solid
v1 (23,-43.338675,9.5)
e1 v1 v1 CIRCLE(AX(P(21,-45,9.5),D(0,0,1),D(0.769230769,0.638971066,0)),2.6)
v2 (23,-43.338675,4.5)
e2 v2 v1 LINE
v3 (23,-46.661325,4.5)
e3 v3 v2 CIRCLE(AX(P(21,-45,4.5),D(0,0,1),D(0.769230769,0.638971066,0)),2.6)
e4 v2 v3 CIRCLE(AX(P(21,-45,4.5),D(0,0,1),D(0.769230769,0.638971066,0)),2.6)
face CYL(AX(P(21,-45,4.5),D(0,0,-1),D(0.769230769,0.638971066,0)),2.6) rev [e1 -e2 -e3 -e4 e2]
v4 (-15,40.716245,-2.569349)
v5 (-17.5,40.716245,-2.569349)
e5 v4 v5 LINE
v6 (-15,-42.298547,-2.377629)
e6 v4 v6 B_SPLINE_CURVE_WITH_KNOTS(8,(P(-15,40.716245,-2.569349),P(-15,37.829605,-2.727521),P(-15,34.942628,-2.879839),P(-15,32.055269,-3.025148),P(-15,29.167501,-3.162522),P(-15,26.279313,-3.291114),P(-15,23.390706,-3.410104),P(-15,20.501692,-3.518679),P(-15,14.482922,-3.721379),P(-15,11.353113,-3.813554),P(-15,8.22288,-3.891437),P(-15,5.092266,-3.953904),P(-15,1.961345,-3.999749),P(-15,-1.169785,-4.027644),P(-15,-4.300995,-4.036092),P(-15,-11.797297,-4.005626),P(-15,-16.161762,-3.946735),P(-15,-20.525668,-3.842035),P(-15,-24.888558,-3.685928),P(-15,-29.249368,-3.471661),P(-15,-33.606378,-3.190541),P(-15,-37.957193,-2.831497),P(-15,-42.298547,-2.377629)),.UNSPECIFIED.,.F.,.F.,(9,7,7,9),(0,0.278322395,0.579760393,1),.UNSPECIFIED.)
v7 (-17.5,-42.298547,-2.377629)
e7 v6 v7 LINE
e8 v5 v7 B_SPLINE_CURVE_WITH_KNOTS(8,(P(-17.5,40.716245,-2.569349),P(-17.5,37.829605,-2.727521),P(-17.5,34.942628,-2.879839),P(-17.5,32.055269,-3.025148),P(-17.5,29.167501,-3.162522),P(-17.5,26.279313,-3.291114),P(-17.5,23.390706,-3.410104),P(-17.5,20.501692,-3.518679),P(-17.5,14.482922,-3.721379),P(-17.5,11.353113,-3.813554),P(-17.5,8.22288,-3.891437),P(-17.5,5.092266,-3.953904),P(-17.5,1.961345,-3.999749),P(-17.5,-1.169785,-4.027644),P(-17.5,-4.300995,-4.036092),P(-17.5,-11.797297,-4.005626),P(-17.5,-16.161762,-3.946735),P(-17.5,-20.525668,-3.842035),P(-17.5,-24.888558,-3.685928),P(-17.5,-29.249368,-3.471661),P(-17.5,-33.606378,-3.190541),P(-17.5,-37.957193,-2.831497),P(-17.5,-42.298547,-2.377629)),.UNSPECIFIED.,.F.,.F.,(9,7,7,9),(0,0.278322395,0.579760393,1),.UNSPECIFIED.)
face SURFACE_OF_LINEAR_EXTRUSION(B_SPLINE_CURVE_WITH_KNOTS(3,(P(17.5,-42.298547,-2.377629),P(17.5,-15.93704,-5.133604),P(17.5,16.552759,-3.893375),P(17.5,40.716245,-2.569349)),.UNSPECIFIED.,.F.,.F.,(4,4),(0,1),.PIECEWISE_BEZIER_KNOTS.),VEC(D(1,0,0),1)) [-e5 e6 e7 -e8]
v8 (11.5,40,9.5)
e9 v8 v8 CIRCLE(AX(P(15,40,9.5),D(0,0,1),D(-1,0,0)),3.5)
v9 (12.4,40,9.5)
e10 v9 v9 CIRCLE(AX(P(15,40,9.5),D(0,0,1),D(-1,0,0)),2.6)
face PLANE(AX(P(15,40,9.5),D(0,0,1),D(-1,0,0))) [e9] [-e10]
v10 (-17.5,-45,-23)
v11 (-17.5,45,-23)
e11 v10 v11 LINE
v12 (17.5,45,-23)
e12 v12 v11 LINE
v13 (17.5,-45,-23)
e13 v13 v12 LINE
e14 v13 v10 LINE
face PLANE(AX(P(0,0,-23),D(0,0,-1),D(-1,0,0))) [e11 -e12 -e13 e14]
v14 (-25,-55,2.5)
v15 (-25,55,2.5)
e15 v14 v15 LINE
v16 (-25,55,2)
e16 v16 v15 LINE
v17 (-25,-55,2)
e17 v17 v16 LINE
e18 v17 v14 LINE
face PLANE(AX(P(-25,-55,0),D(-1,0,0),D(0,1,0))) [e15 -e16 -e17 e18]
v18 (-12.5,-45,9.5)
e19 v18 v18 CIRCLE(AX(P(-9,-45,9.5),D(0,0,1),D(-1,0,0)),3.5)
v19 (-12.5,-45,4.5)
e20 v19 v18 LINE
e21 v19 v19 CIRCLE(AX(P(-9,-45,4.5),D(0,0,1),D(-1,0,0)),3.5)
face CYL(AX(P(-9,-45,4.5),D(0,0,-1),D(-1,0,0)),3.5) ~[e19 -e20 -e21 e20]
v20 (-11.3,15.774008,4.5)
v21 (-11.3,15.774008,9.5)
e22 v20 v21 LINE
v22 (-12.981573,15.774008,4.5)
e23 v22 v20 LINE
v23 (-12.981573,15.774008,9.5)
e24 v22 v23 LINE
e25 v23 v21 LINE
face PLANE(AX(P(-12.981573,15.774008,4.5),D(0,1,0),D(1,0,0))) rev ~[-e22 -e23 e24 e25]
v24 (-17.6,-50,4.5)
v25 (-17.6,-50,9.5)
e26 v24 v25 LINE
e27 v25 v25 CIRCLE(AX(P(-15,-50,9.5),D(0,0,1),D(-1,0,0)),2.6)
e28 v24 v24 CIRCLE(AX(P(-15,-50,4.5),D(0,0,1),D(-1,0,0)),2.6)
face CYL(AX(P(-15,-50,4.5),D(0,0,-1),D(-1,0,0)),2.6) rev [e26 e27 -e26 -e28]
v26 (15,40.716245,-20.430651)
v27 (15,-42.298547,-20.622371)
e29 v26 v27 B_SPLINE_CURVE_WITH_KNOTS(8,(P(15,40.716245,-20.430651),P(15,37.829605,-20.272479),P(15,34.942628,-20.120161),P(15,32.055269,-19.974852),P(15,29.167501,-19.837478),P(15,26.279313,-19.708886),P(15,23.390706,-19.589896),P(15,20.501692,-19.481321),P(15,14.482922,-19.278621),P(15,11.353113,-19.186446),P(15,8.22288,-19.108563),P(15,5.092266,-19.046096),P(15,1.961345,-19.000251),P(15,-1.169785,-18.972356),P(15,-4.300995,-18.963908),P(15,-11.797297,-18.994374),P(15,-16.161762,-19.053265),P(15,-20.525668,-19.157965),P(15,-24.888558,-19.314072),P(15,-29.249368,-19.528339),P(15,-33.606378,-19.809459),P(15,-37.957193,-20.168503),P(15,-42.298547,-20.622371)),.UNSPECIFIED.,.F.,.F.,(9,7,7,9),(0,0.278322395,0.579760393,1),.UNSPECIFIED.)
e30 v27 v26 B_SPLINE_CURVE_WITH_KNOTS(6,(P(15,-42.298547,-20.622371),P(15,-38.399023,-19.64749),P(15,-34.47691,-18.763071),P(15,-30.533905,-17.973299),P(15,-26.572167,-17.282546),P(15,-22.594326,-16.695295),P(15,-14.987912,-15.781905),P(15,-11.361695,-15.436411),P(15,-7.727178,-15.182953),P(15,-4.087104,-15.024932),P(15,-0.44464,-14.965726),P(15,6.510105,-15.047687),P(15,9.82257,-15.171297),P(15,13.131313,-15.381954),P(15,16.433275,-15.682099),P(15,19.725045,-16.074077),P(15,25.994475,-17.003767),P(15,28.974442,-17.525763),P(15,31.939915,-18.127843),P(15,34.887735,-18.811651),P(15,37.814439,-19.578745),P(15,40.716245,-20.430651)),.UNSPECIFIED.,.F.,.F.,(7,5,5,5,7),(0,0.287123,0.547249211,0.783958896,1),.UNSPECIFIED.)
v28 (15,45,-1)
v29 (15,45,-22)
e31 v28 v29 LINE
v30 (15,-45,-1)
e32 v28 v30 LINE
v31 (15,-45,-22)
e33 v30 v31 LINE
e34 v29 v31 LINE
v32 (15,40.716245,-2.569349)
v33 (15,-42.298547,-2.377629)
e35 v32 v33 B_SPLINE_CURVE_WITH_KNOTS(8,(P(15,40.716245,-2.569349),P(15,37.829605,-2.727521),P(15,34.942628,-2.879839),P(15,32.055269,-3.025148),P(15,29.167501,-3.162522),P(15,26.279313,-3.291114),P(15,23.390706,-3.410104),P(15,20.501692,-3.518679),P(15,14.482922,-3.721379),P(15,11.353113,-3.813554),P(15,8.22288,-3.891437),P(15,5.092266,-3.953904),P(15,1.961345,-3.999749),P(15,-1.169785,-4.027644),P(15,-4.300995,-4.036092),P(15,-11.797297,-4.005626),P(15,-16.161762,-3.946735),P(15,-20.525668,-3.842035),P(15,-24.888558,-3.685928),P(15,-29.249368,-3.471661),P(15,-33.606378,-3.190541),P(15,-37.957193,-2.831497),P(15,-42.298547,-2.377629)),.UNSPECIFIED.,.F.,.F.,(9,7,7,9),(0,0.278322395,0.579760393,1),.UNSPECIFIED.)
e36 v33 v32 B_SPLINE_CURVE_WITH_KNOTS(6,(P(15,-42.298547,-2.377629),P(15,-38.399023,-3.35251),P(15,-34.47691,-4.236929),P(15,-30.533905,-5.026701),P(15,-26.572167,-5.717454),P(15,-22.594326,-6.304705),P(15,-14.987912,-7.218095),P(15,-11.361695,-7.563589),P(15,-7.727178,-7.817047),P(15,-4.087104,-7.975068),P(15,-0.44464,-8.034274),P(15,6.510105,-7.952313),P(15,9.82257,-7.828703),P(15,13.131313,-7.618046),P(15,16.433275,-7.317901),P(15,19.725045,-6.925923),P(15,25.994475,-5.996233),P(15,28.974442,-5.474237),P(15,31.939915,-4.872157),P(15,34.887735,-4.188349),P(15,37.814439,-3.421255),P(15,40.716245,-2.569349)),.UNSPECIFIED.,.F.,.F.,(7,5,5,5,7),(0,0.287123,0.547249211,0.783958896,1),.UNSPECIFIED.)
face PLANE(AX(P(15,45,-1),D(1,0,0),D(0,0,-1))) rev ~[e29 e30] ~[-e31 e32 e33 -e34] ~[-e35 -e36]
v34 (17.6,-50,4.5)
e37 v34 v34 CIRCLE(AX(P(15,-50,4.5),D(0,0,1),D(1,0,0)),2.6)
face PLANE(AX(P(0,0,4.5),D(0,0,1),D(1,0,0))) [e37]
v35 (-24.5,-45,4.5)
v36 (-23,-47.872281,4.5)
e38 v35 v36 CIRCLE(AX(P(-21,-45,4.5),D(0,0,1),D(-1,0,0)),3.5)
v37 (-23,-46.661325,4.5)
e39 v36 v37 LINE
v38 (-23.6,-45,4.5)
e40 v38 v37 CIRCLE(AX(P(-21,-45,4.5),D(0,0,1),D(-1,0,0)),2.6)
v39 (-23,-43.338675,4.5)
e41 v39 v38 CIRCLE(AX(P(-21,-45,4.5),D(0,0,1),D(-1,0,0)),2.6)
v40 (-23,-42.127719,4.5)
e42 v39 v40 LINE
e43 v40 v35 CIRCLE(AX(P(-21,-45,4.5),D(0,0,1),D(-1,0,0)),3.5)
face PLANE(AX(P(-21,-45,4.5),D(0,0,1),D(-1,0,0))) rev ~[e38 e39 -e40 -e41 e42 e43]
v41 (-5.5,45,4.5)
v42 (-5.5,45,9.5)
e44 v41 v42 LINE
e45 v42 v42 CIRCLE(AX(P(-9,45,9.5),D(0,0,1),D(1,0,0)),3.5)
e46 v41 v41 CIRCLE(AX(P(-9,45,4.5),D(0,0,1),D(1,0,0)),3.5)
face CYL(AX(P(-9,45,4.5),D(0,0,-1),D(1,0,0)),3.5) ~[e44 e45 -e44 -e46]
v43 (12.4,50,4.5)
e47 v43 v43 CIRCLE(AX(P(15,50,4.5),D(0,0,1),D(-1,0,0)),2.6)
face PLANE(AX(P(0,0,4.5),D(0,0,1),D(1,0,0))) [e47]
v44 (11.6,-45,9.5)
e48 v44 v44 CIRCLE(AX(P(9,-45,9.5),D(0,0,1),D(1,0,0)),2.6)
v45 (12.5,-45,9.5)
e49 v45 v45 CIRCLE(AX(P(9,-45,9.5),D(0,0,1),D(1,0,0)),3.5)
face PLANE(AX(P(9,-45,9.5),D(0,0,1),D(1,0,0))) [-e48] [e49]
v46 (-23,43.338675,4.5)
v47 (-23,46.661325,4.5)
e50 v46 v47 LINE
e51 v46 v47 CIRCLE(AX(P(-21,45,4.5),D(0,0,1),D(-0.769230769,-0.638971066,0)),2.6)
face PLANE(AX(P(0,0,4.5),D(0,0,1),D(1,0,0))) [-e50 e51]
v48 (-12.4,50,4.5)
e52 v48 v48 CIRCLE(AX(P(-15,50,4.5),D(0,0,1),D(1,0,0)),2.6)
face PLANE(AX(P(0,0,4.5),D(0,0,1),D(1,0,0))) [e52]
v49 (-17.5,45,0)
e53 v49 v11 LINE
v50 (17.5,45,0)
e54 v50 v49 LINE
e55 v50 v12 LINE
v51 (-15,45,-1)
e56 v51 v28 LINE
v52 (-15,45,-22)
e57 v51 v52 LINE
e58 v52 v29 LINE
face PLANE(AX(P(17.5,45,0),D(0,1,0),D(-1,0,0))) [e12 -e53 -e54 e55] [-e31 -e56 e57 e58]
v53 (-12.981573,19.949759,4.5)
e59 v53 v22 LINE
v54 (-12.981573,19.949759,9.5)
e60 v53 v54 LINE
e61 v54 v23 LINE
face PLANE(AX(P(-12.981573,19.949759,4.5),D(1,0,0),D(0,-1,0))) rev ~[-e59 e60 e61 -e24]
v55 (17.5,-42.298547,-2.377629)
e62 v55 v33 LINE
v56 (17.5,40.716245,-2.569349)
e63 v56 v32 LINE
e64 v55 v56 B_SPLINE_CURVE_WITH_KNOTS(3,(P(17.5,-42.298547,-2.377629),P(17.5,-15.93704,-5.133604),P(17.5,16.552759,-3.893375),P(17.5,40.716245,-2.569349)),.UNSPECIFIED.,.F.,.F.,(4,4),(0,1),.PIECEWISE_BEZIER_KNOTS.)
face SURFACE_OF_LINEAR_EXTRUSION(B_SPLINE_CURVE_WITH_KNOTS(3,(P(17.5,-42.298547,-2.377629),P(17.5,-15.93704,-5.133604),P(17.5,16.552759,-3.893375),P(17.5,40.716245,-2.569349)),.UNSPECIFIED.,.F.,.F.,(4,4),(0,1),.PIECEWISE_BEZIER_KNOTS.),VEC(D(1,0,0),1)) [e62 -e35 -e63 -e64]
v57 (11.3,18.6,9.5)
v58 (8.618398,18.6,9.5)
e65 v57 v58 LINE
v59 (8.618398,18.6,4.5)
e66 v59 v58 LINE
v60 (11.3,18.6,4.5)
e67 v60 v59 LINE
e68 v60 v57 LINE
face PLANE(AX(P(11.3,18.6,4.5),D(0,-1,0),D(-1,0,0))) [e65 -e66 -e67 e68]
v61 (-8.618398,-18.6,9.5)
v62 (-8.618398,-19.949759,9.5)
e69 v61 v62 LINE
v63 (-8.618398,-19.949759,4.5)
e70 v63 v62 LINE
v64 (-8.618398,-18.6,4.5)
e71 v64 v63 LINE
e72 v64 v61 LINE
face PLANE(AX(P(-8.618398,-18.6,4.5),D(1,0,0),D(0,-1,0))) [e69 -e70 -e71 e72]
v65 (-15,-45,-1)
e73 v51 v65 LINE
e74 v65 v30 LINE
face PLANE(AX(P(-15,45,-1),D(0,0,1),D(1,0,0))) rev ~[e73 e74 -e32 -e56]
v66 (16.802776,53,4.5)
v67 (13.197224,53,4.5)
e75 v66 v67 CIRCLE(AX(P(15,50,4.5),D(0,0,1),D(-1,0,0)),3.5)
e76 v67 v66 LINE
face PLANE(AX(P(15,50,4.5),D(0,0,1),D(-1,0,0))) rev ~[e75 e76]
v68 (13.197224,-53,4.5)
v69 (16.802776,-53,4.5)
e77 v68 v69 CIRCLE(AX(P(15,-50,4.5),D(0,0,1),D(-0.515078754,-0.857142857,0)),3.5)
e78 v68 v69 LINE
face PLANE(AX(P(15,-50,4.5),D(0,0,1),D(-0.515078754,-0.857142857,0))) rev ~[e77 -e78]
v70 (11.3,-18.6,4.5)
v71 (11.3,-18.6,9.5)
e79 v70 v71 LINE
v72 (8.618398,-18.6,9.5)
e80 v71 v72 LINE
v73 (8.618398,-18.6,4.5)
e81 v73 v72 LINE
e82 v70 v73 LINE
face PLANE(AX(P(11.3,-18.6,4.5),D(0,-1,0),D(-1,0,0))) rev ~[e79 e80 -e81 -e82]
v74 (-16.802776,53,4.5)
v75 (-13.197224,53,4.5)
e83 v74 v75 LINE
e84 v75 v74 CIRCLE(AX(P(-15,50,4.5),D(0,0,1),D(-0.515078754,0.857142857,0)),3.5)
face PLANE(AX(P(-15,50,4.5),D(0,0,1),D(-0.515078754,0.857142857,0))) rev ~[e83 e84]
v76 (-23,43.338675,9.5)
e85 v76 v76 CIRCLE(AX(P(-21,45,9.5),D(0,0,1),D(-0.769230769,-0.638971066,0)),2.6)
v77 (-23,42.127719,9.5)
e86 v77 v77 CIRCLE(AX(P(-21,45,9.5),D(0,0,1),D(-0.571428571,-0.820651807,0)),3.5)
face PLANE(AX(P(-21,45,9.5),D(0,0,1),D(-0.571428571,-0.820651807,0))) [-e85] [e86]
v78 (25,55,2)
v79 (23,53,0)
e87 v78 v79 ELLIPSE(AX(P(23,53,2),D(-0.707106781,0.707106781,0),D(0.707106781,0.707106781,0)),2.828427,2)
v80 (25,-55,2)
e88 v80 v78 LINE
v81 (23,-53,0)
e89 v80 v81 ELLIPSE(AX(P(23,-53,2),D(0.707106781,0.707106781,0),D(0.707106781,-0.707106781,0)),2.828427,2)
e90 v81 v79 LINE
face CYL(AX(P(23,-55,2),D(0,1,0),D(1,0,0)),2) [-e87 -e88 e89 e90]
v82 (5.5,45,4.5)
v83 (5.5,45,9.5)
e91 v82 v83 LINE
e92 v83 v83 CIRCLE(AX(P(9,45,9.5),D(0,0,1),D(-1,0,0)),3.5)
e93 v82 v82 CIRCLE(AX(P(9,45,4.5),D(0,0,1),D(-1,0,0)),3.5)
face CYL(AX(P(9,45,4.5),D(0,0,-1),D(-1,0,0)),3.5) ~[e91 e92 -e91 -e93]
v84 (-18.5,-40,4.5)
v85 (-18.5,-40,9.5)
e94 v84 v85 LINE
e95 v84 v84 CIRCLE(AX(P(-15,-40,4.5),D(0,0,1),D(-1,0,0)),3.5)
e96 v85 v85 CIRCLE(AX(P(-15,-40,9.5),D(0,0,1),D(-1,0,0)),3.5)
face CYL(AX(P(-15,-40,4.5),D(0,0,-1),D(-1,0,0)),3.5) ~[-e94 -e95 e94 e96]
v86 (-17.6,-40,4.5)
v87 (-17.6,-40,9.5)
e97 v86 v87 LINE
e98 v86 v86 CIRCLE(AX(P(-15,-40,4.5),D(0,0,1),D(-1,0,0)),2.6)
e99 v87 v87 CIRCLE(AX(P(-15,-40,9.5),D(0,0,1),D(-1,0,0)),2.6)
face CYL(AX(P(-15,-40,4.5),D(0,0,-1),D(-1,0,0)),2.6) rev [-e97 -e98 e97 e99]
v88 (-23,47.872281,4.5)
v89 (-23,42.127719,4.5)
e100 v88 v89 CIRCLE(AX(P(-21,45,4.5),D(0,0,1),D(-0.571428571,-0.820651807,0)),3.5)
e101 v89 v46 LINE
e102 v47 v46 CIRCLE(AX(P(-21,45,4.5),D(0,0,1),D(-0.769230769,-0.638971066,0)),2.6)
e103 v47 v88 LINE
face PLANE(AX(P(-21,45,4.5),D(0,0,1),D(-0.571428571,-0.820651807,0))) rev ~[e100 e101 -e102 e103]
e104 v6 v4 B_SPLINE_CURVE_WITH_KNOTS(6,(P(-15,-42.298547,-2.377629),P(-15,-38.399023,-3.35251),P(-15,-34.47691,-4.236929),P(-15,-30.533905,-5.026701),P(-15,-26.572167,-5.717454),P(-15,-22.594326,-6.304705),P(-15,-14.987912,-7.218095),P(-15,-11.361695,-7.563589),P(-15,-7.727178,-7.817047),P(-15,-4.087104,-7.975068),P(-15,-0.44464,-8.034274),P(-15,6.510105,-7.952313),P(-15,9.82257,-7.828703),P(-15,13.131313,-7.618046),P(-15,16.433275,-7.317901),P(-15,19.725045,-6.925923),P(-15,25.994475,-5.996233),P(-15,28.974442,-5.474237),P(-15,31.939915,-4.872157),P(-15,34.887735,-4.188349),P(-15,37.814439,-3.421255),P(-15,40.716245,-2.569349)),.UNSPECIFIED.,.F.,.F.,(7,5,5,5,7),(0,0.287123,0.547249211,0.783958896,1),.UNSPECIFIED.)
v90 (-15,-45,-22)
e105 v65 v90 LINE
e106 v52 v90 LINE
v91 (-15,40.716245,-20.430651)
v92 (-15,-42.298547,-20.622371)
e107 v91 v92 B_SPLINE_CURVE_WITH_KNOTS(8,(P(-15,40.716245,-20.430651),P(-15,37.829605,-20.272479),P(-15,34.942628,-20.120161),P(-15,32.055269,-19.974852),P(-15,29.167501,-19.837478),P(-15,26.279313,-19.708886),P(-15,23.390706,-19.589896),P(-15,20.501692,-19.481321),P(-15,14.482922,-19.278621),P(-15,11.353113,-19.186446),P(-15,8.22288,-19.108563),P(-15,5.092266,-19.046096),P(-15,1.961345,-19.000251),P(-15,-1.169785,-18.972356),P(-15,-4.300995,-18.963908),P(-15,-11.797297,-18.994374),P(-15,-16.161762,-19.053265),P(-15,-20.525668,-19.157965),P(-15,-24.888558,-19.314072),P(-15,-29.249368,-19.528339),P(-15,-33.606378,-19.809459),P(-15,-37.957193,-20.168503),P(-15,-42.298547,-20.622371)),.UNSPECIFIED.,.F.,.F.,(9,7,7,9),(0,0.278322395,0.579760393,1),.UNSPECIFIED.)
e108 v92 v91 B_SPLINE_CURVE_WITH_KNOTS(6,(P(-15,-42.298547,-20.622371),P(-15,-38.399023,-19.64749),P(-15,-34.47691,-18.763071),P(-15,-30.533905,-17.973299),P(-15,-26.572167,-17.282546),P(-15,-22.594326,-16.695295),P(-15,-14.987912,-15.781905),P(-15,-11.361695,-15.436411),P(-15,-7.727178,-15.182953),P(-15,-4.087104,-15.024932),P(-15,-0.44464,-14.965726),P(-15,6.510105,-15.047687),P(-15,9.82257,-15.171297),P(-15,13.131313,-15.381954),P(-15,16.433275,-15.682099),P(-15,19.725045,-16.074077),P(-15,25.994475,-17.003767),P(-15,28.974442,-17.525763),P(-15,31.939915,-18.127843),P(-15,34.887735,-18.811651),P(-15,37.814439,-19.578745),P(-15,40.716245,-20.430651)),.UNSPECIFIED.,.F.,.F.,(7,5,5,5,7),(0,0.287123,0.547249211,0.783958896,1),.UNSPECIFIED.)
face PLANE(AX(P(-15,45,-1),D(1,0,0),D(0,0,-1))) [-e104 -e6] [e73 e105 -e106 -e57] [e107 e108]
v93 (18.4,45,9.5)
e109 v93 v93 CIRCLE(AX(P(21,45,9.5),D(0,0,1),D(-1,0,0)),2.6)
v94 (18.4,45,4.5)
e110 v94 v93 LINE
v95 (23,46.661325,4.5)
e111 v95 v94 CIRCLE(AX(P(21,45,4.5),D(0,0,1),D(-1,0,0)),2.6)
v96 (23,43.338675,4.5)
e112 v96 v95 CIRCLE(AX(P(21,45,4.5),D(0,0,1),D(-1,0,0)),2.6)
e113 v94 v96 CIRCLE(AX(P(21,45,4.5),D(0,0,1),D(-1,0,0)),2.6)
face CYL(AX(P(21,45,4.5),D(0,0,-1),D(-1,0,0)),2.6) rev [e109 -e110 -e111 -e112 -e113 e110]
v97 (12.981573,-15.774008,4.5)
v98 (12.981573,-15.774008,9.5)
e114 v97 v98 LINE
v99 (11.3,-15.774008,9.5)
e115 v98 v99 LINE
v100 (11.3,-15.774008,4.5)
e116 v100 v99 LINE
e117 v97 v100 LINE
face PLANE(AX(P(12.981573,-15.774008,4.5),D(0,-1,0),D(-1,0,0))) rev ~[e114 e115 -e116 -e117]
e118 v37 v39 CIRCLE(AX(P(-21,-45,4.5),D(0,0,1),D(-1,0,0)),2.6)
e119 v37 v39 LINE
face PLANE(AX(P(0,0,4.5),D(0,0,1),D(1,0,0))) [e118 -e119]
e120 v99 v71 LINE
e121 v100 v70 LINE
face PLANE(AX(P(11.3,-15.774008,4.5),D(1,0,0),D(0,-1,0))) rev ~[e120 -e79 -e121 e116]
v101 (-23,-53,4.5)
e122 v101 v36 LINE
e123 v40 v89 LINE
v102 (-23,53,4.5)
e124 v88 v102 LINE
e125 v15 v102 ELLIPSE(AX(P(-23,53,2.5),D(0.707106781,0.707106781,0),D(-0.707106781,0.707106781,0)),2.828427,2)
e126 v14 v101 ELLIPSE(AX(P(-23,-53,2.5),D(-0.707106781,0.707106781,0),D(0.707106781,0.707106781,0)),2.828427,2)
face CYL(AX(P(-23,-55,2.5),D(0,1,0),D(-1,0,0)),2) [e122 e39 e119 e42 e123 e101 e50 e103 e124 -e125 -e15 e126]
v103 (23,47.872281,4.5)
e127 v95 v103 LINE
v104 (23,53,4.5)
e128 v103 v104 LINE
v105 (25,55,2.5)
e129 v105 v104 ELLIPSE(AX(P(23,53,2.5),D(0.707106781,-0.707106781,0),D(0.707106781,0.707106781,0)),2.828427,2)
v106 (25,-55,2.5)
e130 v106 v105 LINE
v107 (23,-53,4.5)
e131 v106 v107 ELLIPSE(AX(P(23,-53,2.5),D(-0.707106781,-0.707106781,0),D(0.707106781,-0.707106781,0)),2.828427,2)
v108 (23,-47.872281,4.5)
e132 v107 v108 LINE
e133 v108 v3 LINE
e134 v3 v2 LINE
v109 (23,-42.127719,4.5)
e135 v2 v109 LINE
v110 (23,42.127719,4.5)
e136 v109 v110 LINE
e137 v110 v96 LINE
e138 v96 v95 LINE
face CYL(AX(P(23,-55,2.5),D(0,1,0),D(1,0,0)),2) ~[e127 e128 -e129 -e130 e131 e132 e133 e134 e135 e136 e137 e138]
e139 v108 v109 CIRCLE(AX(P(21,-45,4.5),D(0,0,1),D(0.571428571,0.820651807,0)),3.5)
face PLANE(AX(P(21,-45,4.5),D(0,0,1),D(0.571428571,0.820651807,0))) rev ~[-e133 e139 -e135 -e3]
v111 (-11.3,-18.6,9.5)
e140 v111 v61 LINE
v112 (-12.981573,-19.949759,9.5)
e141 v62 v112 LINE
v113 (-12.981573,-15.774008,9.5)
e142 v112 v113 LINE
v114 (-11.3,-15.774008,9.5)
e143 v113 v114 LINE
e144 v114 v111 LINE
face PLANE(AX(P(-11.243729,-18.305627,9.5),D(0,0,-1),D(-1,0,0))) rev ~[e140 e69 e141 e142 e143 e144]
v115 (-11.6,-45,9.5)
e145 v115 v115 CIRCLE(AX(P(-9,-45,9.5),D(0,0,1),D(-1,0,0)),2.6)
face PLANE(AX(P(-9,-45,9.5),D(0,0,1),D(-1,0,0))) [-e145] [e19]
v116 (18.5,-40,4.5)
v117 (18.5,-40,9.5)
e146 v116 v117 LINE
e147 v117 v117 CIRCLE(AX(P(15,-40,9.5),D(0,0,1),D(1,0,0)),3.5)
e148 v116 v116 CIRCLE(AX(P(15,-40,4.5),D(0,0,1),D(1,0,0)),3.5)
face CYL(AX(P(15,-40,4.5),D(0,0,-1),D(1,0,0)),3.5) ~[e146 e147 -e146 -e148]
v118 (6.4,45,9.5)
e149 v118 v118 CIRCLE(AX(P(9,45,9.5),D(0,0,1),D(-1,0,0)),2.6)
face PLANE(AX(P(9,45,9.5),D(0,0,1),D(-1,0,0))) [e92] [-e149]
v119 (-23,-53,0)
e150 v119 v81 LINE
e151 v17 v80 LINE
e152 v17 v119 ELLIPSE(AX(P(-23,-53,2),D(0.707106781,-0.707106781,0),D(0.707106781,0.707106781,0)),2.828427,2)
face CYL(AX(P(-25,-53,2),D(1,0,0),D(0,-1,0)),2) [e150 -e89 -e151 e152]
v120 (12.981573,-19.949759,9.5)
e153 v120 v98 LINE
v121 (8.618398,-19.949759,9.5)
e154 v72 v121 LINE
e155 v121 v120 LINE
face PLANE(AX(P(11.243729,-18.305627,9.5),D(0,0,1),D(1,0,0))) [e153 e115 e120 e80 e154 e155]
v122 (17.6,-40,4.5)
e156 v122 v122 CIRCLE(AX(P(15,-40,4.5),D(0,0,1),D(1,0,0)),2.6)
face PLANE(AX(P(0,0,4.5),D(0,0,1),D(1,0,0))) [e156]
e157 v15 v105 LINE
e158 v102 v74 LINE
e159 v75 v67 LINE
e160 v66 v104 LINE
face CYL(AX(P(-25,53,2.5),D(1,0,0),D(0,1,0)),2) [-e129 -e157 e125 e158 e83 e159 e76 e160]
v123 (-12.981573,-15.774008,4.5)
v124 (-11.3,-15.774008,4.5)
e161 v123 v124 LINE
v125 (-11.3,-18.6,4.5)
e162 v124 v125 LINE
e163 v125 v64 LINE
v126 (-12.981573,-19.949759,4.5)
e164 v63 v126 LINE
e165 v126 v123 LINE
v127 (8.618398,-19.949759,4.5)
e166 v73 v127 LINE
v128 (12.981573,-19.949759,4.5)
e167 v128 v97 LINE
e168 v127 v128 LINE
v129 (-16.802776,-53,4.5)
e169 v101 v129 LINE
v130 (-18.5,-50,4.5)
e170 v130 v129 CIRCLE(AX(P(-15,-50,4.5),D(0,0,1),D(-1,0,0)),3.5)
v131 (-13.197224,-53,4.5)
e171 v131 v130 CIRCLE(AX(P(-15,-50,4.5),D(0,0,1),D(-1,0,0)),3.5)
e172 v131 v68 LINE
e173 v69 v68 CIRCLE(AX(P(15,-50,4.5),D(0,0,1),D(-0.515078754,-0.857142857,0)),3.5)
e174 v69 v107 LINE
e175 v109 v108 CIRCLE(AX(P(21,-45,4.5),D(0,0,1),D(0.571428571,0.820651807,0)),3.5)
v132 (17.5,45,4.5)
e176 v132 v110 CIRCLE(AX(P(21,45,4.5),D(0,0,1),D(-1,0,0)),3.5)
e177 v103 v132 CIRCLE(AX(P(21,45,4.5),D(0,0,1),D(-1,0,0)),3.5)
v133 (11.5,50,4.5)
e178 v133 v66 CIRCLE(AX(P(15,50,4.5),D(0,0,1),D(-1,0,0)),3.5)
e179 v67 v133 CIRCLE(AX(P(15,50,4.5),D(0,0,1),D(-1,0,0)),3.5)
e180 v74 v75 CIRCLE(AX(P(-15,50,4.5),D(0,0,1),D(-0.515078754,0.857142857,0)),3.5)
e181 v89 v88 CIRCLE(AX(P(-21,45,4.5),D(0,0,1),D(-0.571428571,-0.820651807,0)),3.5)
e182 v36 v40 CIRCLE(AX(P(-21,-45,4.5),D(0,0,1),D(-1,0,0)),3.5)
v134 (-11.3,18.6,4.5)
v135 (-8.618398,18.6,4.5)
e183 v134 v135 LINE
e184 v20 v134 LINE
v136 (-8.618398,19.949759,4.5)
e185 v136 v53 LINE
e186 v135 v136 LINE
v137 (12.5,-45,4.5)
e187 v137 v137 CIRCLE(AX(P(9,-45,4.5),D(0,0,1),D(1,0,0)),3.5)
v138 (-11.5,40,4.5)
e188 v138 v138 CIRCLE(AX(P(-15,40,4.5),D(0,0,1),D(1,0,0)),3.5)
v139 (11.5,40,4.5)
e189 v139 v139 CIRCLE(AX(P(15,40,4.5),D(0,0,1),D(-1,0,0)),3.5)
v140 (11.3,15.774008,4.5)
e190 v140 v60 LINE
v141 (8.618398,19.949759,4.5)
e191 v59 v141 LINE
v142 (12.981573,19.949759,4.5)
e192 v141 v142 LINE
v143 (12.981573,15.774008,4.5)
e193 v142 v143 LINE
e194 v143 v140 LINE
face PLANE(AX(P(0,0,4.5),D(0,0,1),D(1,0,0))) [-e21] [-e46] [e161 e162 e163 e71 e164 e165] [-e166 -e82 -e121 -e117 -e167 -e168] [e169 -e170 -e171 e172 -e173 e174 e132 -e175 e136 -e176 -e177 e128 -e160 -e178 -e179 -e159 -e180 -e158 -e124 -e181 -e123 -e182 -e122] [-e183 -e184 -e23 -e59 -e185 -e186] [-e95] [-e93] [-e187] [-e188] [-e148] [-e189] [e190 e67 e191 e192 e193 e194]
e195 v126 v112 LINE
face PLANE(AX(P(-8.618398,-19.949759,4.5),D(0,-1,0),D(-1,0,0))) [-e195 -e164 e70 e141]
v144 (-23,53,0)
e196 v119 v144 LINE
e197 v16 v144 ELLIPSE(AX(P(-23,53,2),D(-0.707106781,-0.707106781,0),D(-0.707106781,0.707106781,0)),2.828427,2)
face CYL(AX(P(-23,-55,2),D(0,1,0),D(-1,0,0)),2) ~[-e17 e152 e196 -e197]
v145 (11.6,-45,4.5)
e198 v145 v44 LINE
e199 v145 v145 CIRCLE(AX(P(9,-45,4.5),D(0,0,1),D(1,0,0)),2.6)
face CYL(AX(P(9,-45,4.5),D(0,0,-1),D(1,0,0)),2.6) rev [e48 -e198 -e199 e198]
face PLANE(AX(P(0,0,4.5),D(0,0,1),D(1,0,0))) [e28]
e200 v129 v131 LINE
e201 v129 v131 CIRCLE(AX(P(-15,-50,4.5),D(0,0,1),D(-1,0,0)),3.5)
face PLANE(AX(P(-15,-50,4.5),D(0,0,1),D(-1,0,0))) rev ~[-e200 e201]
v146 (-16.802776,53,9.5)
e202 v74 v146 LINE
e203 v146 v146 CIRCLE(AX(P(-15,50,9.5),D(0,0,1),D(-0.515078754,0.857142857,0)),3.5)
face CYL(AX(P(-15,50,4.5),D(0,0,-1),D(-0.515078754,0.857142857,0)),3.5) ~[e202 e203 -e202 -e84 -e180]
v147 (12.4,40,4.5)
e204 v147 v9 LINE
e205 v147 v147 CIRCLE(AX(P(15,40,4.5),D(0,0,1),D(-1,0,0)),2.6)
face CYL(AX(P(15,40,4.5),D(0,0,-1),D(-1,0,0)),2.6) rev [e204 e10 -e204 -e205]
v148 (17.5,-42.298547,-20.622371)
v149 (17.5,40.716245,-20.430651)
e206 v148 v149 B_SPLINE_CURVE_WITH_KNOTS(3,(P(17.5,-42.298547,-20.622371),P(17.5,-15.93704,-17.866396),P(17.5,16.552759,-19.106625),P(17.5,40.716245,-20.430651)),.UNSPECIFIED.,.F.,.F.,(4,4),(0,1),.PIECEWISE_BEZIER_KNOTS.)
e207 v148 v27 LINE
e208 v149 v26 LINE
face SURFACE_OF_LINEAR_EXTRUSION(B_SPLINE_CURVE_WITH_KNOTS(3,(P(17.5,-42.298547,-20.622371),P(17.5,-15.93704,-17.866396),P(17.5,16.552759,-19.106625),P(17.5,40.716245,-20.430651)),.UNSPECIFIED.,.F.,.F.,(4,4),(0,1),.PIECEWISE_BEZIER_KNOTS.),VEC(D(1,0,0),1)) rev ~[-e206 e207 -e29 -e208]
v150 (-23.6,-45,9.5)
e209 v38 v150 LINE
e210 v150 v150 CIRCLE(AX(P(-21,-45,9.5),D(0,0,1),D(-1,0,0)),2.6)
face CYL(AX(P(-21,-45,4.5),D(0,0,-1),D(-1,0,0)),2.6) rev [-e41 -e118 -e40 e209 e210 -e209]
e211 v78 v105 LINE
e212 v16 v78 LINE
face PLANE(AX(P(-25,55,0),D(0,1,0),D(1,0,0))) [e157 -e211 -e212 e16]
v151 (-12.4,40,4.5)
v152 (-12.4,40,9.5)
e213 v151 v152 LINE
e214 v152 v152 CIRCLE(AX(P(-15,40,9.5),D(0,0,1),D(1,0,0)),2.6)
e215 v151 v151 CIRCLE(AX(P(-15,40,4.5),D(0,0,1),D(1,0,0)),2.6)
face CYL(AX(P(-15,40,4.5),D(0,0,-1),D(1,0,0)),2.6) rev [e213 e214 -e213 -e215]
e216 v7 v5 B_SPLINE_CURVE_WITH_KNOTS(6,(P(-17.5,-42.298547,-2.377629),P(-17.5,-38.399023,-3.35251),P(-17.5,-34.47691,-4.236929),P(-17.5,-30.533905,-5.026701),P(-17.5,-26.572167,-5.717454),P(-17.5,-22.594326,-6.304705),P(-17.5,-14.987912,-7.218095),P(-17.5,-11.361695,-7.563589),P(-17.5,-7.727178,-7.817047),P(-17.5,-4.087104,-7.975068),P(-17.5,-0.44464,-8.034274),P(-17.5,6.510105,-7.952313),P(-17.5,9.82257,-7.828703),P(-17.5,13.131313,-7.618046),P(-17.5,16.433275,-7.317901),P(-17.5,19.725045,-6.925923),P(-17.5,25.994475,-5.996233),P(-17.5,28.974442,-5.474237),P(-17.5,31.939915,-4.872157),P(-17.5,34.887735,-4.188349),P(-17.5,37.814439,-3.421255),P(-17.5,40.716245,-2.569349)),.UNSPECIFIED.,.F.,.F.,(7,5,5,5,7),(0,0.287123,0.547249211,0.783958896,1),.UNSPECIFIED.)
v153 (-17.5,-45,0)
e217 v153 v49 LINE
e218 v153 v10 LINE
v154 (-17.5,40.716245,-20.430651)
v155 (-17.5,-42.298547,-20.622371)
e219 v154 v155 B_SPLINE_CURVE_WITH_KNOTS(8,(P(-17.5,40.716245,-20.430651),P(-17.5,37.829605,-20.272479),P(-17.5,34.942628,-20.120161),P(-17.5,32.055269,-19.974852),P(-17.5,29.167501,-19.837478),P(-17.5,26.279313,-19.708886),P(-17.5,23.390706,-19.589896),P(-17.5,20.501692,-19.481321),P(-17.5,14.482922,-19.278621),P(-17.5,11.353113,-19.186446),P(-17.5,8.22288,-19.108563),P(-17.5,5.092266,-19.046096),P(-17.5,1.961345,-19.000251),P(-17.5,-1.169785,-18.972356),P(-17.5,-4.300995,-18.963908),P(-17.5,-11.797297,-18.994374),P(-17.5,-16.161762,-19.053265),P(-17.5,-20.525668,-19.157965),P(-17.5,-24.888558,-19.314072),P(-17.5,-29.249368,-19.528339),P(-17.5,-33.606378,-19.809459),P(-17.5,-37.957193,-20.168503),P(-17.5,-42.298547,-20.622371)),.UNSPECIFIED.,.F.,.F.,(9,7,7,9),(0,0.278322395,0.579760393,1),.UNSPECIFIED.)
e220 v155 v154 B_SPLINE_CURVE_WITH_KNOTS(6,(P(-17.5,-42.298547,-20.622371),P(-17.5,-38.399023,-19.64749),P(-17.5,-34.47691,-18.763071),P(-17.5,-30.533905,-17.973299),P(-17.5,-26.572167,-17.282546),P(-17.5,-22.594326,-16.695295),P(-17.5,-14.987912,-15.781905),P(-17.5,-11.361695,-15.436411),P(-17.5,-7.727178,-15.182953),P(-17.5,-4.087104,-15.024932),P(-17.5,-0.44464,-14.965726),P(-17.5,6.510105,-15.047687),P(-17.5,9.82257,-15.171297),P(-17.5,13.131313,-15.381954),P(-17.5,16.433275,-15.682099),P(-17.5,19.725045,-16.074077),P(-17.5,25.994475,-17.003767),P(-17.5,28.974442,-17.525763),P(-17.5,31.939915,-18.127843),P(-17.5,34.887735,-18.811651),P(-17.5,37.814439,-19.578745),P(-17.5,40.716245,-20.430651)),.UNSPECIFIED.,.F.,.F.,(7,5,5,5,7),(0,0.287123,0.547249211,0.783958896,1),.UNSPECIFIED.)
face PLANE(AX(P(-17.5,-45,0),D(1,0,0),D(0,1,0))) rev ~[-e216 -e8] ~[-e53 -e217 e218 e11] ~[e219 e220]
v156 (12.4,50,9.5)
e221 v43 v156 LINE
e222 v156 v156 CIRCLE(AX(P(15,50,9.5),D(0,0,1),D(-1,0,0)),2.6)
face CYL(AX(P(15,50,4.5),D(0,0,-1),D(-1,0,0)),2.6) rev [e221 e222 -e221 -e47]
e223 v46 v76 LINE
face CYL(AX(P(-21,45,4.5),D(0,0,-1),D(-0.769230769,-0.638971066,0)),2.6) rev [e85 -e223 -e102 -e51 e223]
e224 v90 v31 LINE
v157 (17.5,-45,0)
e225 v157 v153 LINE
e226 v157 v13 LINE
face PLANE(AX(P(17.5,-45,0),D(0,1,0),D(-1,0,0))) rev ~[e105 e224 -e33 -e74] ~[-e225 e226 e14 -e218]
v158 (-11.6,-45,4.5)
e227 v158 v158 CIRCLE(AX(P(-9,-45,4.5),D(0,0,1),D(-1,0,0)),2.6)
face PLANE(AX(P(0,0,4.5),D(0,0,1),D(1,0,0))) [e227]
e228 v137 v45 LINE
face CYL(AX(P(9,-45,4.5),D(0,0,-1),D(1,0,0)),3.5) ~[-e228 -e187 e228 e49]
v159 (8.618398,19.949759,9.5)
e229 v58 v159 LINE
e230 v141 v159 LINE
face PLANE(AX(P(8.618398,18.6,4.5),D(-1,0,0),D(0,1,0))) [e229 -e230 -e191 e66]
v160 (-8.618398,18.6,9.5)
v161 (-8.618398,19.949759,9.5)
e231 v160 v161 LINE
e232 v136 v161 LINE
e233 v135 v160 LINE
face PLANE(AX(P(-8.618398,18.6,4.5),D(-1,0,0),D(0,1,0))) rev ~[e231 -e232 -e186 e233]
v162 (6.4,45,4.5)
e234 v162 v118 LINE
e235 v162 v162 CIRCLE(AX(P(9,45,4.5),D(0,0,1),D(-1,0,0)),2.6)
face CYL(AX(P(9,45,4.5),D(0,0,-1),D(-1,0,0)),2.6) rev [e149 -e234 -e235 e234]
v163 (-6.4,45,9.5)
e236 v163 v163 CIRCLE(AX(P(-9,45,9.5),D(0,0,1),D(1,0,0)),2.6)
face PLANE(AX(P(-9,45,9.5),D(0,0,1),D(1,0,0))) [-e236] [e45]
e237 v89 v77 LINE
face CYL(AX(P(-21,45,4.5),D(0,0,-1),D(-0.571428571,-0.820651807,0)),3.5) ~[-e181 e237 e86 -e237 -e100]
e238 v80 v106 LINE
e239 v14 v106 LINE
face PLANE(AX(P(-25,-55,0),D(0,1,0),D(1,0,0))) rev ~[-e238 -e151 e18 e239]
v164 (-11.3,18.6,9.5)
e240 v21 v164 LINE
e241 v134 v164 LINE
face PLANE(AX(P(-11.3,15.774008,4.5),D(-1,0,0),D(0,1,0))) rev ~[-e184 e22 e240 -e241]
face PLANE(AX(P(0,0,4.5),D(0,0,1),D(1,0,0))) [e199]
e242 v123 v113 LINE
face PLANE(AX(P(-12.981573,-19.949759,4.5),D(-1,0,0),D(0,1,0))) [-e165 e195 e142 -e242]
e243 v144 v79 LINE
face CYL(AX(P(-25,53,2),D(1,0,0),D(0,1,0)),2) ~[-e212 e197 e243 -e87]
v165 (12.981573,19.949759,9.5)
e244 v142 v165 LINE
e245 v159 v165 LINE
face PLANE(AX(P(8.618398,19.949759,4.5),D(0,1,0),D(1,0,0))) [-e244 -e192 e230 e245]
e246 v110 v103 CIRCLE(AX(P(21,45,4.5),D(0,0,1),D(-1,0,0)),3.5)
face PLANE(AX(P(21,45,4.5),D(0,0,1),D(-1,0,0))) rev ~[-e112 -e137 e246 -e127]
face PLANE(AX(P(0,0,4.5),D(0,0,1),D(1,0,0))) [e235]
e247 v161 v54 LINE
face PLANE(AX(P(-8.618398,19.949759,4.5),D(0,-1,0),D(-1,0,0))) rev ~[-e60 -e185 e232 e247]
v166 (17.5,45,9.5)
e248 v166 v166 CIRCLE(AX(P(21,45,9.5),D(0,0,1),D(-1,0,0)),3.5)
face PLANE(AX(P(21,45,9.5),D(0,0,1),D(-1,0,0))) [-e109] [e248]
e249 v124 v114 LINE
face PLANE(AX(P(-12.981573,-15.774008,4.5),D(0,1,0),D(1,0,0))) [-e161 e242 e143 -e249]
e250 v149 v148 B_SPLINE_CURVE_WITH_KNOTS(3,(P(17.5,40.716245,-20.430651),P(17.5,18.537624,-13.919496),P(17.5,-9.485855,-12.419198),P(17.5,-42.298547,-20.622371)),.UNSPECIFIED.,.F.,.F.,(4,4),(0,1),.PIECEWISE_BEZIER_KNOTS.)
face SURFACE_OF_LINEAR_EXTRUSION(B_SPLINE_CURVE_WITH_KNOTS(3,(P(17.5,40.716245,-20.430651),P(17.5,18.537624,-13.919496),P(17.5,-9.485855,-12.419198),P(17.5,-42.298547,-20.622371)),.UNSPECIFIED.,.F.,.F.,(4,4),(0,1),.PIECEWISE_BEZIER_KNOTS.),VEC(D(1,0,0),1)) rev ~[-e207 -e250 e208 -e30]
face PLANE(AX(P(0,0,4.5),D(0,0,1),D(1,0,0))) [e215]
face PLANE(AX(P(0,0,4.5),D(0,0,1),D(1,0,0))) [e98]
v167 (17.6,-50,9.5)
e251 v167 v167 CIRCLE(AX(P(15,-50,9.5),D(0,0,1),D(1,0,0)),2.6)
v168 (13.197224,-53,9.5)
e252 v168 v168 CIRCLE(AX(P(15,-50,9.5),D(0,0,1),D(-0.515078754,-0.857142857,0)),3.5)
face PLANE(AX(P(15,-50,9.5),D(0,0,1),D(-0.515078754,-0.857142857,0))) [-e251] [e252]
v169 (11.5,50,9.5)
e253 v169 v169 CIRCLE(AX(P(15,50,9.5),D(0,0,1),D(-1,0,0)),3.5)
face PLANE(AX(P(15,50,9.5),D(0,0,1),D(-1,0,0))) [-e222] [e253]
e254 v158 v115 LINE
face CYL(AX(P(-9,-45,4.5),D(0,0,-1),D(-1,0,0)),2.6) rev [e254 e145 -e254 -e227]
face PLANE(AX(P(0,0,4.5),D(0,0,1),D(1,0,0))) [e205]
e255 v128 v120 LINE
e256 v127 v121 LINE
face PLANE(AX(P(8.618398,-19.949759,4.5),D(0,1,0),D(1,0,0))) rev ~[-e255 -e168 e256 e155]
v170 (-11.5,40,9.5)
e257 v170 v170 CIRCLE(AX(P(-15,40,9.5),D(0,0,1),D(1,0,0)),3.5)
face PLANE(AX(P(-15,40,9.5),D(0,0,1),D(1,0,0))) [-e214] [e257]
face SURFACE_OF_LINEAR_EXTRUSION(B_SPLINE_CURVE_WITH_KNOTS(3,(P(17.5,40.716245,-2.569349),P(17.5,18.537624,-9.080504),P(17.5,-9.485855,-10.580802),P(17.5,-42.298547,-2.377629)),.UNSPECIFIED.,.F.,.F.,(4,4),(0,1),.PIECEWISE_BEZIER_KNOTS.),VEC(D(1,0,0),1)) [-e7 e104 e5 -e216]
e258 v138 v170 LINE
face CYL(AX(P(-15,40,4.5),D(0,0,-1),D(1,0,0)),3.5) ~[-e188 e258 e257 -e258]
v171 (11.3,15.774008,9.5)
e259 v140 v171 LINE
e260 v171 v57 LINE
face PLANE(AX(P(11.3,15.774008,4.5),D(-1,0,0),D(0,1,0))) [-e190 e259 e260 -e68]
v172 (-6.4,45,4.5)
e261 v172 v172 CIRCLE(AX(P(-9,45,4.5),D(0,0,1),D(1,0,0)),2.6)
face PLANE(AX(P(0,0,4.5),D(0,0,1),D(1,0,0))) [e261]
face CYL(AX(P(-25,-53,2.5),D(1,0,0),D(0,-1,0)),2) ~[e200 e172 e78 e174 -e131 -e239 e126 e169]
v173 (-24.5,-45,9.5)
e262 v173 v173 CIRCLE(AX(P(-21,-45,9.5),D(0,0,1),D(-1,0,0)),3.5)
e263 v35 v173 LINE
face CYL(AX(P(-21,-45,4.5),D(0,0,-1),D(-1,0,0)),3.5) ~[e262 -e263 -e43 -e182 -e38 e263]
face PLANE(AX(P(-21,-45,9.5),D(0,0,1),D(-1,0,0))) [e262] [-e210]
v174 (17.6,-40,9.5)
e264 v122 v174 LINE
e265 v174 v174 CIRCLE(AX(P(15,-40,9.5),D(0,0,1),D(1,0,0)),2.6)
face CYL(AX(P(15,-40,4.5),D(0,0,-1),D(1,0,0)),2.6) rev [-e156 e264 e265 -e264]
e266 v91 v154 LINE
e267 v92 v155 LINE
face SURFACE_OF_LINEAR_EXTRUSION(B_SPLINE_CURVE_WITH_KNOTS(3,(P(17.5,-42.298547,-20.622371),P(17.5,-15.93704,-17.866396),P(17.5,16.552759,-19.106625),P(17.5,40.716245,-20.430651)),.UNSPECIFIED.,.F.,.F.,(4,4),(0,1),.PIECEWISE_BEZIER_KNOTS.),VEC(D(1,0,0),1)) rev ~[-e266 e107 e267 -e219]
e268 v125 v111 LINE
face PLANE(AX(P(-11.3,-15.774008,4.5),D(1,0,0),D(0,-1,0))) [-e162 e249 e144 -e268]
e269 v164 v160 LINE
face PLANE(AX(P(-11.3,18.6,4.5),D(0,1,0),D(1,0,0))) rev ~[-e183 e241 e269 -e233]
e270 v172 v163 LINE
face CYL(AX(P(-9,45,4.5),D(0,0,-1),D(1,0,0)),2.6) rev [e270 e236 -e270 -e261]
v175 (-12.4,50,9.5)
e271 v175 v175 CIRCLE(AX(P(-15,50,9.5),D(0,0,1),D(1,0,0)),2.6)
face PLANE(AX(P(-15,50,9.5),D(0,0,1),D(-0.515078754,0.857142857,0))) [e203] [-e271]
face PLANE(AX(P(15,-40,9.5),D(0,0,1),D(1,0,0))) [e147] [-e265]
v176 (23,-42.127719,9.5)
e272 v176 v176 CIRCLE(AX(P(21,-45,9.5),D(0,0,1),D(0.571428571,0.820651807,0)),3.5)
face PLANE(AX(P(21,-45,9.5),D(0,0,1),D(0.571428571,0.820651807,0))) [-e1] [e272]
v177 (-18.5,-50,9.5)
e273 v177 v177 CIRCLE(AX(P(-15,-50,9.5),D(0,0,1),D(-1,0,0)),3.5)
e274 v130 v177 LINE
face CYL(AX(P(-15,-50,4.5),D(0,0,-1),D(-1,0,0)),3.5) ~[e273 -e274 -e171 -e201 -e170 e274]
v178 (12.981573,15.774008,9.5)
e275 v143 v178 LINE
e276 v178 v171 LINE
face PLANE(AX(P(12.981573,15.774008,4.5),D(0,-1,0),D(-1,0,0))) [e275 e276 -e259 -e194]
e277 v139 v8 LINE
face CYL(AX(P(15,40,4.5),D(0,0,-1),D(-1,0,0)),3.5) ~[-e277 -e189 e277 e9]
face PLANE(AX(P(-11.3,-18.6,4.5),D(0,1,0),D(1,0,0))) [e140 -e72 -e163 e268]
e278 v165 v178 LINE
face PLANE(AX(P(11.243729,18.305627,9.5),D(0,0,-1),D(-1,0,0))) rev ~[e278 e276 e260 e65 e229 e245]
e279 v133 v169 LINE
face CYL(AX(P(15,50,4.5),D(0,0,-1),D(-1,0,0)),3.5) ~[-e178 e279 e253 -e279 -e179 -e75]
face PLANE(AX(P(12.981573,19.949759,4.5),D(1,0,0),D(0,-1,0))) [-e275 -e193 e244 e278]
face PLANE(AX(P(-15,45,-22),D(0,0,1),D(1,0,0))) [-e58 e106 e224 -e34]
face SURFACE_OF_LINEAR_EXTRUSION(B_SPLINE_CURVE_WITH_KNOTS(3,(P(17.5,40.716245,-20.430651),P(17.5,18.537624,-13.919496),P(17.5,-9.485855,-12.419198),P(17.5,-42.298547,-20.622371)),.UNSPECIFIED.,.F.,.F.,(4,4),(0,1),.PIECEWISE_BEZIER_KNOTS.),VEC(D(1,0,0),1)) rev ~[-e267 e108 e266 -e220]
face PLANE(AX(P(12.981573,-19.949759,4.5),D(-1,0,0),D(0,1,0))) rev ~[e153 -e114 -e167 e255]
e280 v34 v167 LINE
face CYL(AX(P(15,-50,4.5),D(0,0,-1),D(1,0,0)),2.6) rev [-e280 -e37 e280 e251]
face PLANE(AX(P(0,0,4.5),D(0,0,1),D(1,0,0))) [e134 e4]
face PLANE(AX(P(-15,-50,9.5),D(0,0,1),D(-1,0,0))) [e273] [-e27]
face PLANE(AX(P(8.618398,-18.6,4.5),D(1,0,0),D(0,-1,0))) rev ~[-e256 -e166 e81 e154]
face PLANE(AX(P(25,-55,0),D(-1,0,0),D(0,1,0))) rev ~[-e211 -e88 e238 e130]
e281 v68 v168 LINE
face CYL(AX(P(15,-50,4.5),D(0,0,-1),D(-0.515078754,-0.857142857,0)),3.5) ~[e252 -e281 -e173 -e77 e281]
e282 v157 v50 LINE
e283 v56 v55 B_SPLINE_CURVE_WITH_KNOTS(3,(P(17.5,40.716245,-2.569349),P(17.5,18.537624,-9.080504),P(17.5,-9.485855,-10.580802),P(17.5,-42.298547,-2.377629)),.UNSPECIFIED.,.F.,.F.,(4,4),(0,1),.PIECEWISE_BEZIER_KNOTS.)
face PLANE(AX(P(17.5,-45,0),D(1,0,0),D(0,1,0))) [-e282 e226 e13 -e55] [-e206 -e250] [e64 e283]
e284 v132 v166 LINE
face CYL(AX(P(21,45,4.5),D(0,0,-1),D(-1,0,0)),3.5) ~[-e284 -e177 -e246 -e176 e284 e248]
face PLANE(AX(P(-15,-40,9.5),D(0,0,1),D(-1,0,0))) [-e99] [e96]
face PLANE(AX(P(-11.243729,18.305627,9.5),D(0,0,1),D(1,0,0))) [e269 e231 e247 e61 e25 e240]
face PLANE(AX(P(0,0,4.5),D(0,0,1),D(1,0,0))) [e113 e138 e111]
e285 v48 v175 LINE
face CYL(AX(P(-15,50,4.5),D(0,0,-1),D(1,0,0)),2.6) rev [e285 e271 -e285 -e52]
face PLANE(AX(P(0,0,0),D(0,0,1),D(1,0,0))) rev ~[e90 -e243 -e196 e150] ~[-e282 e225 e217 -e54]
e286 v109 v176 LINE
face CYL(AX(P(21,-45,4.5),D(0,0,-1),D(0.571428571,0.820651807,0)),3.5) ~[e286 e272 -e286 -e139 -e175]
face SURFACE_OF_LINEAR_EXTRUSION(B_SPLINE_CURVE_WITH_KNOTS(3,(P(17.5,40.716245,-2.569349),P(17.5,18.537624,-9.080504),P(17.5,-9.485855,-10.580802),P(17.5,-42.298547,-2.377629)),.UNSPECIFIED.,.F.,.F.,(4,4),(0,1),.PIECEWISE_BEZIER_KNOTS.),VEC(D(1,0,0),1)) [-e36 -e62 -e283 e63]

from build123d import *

# Parameters (mm, degrees)
CROQUIS1_W              = 50
CROQUIS1_H              = 110
SALIENTE_EXTRUIR1_DEPTH = 4.5
REDONDEO1_R             = 2
CROQUIS2_R              = 3.5
CROQUIS2_R_2            = 2.6
SALIENTE_EXTRUIR2_DEPTH = 5
CROQUIS3_W              = 35
CROQUIS3_H              = 90
SALIENTE_EXTRUIR3_DEPTH = 23
CROQUIS5_W              = 30
CROQUIS5_H              = 21
CORTAR_EXTRUIR2_DEPTH   = 106.61249926
CORTAR_EXTRUIR5_DEPTH   = 74.213728221
SALIENTE_EXTRUIR4_DEPTH = 5


with BuildPart() as part:
    # Croquis1 → Saliente-Extruir1 (new body)
    with BuildSketch(Plane.XY):
        Rectangle(CROQUIS1_W, CROQUIS1_H)
    extrude(amount=SALIENTE_EXTRUIR1_DEPTH)

    # Redondeo1
    redondeo1_edges = [part.edges().sort_by_distance(p)[0] for p in [
        (0, 55, 0),
        (0, 55, 4.5),
        (-25, 0, 0),
        (-25, 0, 4.5),
        (0, -55, 0),
        (0, -55, 4.5),
        (25, 0, 0),
        (25, 0, 4.5),
    ]]
    fillet(redondeo1_edges, radius=REDONDEO1_R)

    # Croquis2 → Saliente-Extruir2 (add)
    # profile 1 of 16: a face of its own
    with BuildSketch(Plane.XY.offset(4.5)):
        with Locations((-15, 50)):
            Circle(CROQUIS2_R)
        with Locations((-15, 50)):
            Circle(CROQUIS2_R_2, mode=Mode.SUBTRACT)
    # profile 2 of 16: a face of its own
    with BuildSketch(Plane.XY.offset(4.5)):
        with Locations((-15, 40)):
            Circle(CROQUIS2_R)
        with Locations((-15, 40)):
            Circle(CROQUIS2_R_2, mode=Mode.SUBTRACT)
    # profile 3 of 16: a face of its own
    with BuildSketch(Plane.XY.offset(4.5)):
        with Locations((-9, 45)):
            Circle(CROQUIS2_R)
        with Locations((-9, 45)):
            Circle(CROQUIS2_R_2, mode=Mode.SUBTRACT)
    # profile 4 of 16: a face of its own
    with BuildSketch(Plane.XY.offset(4.5)):
        with Locations((-21, 45)):
            Circle(CROQUIS2_R)
        with Locations((-21, 45)):
            Circle(CROQUIS2_R_2, mode=Mode.SUBTRACT)
    # profile 5 of 16: a face of its own
    with BuildSketch(Plane.XY.offset(4.5)):
        with Locations((21, 45)):
            Circle(CROQUIS2_R)
        with Locations((21, 45)):
            Circle(CROQUIS2_R_2, mode=Mode.SUBTRACT)
    # profile 6 of 16: a face of its own
    with BuildSketch(Plane.XY.offset(4.5)):
        with Locations((15, 40)):
            Circle(CROQUIS2_R)
        with Locations((15, 40)):
            Circle(CROQUIS2_R_2, mode=Mode.SUBTRACT)
    # profile 7 of 16: a face of its own
    with BuildSketch(Plane.XY.offset(4.5)):
        with Locations((9, 45)):
            Circle(CROQUIS2_R)
        with Locations((9, 45)):
            Circle(CROQUIS2_R_2, mode=Mode.SUBTRACT)
    # profile 8 of 16: a face of its own
    with BuildSketch(Plane.XY.offset(4.5)):
        with Locations((15, 50)):
            Circle(CROQUIS2_R)
        with Locations((15, 50)):
            Circle(CROQUIS2_R_2, mode=Mode.SUBTRACT)
    # profile 9 of 16: a face of its own
    with BuildSketch(Plane.XY.offset(4.5)):
        with Locations((15, -40)):
            Circle(CROQUIS2_R)
        with Locations((15, -40)):
            Circle(CROQUIS2_R_2, mode=Mode.SUBTRACT)
    # profile 10 of 16: a face of its own
    with BuildSketch(Plane.XY.offset(4.5)):
        with Locations((21, -45)):
            Circle(CROQUIS2_R)
        with Locations((21, -45)):
            Circle(CROQUIS2_R_2, mode=Mode.SUBTRACT)
    # profile 11 of 16: a face of its own
    with BuildSketch(Plane.XY.offset(4.5)):
        with Locations((9, -45)):
            Circle(CROQUIS2_R)
        with Locations((9, -45)):
            Circle(CROQUIS2_R_2, mode=Mode.SUBTRACT)
    # profile 12 of 16: a face of its own
    with BuildSketch(Plane.XY.offset(4.5)):
        with Locations((15, -50)):
            Circle(CROQUIS2_R)
        with Locations((15, -50)):
            Circle(CROQUIS2_R_2, mode=Mode.SUBTRACT)
    # profile 13 of 16: a face of its own
    with BuildSketch(Plane.XY.offset(4.5)):
        with Locations((-15, -40)):
            Circle(CROQUIS2_R)
        with Locations((-15, -40)):
            Circle(CROQUIS2_R_2, mode=Mode.SUBTRACT)
    # profile 14 of 16: a face of its own
    with BuildSketch(Plane.XY.offset(4.5)):
        with Locations((-9, -45)):
            Circle(CROQUIS2_R)
        with Locations((-9, -45)):
            Circle(CROQUIS2_R_2, mode=Mode.SUBTRACT)
    # profile 15 of 16: a face of its own
    with BuildSketch(Plane.XY.offset(4.5)):
        with Locations((-21, -45)):
            Circle(CROQUIS2_R)
        with Locations((-21, -45)):
            Circle(CROQUIS2_R_2, mode=Mode.SUBTRACT)
    # profile 16 of 16: a face of its own
    with BuildSketch(Plane.XY.offset(4.5)):
        with Locations((-15, -50)):
            Circle(CROQUIS2_R)
        with Locations((-15, -50)):
            Circle(CROQUIS2_R_2, mode=Mode.SUBTRACT)
    extrude(amount=SALIENTE_EXTRUIR2_DEPTH)

    # Croquis3 → Saliente-Extruir3 (add)
    with BuildSketch(Plane(origin=(0, 0, 0), x_dir=(-1, 0, 0), z_dir=(0, 0, -1))):
        Rectangle(CROQUIS3_W, CROQUIS3_H)
    extrude(amount=SALIENTE_EXTRUIR3_DEPTH)

    # Croquis5 → Cortar-Extruir2 (cut, through all)
    with BuildSketch(Plane(origin=(0, 45, 0), x_dir=(1, 0, 0), z_dir=(0, 1, 0))):
        with Locations((0, 11.5)):
            Rectangle(CROQUIS5_W, CROQUIS5_H)
    extrude(amount=-CORTAR_EXTRUIR2_DEPTH, mode=Mode.SUBTRACT)

    # Croquis8 → Cortar-Extruir5 (cut, through all)
    with BuildSketch(Plane(origin=(17.5, 0, 0), x_dir=(0, 0, -1), z_dir=(1, 0, 0))):
        with BuildLine():
            add(Edge.make_bspline(
                [(2.569348743, 40.716245485), (9.080503754, 18.53762373), (10.580801765, -9.48585487), (2.377628668, -42.298547258)],
                knots=[0, 0, 0, 0, 1, 1, 1, 1], degree=3))
            add(Edge.make_bspline(
                [(2.377628668, -42.298547258), (5.133604453, -15.937039747), (3.893375388, 16.552759214), (2.569348743, 40.716245485)],
                knots=[0, 0, 0, 0, 1, 1, 1, 1], degree=3))
        make_face()
        with BuildLine():
            add(Edge.make_bspline(
                [(20.430651257, 40.716245485), (13.919496246, 18.53762373), (12.419198235, -9.48585487), (20.622371332, -42.298547258)],
                knots=[0, 0, 0, 0, 1, 1, 1, 1], degree=3))
            add(Edge.make_bspline(
                [(20.622371332, -42.298547258), (17.866395547, -15.937039747), (19.106624612, 16.552759214), (20.430651257, 40.716245485)],
                knots=[0, 0, 0, 0, 1, 1, 1, 1], degree=3))
        make_face()
    extrude(amount=-CORTAR_EXTRUIR5_DEPTH, mode=Mode.SUBTRACT)

    # Croquis9 → Saliente-Extruir4 (add)
    with BuildSketch(Plane.XY.offset(4.5)):
        Polygon((-11.3, 15.774008449), (-11.3, 18.6), (-8.618398116, 18.6), (-8.618398116, 19.949759238), (-12.981572725, 19.949759238), (-12.981572725, 15.774008449), align=None)
        Polygon((-8.618398116, -18.6), (-11.3, -18.6), (-11.3, -15.774008449), (-12.981572725, -15.774008449), (-12.981572725, -19.949759238), (-8.618398116, -19.949759238), align=None)
        Polygon((8.618398116, 18.6), (11.3, 18.6), (11.3, 15.774008449), (12.981572725, 15.774008449), (12.981572725, 19.949759238), (8.618398116, 19.949759238), align=None)
        Polygon((11.3, -18.6), (8.618398116, -18.6), (8.618398116, -19.949759238), (12.981572725, -19.949759238), (12.981572725, -15.774008449), (11.3, -15.774008449), align=None)
    extrude(amount=SALIENTE_EXTRUIR4_DEPTH)


solid = part.part
